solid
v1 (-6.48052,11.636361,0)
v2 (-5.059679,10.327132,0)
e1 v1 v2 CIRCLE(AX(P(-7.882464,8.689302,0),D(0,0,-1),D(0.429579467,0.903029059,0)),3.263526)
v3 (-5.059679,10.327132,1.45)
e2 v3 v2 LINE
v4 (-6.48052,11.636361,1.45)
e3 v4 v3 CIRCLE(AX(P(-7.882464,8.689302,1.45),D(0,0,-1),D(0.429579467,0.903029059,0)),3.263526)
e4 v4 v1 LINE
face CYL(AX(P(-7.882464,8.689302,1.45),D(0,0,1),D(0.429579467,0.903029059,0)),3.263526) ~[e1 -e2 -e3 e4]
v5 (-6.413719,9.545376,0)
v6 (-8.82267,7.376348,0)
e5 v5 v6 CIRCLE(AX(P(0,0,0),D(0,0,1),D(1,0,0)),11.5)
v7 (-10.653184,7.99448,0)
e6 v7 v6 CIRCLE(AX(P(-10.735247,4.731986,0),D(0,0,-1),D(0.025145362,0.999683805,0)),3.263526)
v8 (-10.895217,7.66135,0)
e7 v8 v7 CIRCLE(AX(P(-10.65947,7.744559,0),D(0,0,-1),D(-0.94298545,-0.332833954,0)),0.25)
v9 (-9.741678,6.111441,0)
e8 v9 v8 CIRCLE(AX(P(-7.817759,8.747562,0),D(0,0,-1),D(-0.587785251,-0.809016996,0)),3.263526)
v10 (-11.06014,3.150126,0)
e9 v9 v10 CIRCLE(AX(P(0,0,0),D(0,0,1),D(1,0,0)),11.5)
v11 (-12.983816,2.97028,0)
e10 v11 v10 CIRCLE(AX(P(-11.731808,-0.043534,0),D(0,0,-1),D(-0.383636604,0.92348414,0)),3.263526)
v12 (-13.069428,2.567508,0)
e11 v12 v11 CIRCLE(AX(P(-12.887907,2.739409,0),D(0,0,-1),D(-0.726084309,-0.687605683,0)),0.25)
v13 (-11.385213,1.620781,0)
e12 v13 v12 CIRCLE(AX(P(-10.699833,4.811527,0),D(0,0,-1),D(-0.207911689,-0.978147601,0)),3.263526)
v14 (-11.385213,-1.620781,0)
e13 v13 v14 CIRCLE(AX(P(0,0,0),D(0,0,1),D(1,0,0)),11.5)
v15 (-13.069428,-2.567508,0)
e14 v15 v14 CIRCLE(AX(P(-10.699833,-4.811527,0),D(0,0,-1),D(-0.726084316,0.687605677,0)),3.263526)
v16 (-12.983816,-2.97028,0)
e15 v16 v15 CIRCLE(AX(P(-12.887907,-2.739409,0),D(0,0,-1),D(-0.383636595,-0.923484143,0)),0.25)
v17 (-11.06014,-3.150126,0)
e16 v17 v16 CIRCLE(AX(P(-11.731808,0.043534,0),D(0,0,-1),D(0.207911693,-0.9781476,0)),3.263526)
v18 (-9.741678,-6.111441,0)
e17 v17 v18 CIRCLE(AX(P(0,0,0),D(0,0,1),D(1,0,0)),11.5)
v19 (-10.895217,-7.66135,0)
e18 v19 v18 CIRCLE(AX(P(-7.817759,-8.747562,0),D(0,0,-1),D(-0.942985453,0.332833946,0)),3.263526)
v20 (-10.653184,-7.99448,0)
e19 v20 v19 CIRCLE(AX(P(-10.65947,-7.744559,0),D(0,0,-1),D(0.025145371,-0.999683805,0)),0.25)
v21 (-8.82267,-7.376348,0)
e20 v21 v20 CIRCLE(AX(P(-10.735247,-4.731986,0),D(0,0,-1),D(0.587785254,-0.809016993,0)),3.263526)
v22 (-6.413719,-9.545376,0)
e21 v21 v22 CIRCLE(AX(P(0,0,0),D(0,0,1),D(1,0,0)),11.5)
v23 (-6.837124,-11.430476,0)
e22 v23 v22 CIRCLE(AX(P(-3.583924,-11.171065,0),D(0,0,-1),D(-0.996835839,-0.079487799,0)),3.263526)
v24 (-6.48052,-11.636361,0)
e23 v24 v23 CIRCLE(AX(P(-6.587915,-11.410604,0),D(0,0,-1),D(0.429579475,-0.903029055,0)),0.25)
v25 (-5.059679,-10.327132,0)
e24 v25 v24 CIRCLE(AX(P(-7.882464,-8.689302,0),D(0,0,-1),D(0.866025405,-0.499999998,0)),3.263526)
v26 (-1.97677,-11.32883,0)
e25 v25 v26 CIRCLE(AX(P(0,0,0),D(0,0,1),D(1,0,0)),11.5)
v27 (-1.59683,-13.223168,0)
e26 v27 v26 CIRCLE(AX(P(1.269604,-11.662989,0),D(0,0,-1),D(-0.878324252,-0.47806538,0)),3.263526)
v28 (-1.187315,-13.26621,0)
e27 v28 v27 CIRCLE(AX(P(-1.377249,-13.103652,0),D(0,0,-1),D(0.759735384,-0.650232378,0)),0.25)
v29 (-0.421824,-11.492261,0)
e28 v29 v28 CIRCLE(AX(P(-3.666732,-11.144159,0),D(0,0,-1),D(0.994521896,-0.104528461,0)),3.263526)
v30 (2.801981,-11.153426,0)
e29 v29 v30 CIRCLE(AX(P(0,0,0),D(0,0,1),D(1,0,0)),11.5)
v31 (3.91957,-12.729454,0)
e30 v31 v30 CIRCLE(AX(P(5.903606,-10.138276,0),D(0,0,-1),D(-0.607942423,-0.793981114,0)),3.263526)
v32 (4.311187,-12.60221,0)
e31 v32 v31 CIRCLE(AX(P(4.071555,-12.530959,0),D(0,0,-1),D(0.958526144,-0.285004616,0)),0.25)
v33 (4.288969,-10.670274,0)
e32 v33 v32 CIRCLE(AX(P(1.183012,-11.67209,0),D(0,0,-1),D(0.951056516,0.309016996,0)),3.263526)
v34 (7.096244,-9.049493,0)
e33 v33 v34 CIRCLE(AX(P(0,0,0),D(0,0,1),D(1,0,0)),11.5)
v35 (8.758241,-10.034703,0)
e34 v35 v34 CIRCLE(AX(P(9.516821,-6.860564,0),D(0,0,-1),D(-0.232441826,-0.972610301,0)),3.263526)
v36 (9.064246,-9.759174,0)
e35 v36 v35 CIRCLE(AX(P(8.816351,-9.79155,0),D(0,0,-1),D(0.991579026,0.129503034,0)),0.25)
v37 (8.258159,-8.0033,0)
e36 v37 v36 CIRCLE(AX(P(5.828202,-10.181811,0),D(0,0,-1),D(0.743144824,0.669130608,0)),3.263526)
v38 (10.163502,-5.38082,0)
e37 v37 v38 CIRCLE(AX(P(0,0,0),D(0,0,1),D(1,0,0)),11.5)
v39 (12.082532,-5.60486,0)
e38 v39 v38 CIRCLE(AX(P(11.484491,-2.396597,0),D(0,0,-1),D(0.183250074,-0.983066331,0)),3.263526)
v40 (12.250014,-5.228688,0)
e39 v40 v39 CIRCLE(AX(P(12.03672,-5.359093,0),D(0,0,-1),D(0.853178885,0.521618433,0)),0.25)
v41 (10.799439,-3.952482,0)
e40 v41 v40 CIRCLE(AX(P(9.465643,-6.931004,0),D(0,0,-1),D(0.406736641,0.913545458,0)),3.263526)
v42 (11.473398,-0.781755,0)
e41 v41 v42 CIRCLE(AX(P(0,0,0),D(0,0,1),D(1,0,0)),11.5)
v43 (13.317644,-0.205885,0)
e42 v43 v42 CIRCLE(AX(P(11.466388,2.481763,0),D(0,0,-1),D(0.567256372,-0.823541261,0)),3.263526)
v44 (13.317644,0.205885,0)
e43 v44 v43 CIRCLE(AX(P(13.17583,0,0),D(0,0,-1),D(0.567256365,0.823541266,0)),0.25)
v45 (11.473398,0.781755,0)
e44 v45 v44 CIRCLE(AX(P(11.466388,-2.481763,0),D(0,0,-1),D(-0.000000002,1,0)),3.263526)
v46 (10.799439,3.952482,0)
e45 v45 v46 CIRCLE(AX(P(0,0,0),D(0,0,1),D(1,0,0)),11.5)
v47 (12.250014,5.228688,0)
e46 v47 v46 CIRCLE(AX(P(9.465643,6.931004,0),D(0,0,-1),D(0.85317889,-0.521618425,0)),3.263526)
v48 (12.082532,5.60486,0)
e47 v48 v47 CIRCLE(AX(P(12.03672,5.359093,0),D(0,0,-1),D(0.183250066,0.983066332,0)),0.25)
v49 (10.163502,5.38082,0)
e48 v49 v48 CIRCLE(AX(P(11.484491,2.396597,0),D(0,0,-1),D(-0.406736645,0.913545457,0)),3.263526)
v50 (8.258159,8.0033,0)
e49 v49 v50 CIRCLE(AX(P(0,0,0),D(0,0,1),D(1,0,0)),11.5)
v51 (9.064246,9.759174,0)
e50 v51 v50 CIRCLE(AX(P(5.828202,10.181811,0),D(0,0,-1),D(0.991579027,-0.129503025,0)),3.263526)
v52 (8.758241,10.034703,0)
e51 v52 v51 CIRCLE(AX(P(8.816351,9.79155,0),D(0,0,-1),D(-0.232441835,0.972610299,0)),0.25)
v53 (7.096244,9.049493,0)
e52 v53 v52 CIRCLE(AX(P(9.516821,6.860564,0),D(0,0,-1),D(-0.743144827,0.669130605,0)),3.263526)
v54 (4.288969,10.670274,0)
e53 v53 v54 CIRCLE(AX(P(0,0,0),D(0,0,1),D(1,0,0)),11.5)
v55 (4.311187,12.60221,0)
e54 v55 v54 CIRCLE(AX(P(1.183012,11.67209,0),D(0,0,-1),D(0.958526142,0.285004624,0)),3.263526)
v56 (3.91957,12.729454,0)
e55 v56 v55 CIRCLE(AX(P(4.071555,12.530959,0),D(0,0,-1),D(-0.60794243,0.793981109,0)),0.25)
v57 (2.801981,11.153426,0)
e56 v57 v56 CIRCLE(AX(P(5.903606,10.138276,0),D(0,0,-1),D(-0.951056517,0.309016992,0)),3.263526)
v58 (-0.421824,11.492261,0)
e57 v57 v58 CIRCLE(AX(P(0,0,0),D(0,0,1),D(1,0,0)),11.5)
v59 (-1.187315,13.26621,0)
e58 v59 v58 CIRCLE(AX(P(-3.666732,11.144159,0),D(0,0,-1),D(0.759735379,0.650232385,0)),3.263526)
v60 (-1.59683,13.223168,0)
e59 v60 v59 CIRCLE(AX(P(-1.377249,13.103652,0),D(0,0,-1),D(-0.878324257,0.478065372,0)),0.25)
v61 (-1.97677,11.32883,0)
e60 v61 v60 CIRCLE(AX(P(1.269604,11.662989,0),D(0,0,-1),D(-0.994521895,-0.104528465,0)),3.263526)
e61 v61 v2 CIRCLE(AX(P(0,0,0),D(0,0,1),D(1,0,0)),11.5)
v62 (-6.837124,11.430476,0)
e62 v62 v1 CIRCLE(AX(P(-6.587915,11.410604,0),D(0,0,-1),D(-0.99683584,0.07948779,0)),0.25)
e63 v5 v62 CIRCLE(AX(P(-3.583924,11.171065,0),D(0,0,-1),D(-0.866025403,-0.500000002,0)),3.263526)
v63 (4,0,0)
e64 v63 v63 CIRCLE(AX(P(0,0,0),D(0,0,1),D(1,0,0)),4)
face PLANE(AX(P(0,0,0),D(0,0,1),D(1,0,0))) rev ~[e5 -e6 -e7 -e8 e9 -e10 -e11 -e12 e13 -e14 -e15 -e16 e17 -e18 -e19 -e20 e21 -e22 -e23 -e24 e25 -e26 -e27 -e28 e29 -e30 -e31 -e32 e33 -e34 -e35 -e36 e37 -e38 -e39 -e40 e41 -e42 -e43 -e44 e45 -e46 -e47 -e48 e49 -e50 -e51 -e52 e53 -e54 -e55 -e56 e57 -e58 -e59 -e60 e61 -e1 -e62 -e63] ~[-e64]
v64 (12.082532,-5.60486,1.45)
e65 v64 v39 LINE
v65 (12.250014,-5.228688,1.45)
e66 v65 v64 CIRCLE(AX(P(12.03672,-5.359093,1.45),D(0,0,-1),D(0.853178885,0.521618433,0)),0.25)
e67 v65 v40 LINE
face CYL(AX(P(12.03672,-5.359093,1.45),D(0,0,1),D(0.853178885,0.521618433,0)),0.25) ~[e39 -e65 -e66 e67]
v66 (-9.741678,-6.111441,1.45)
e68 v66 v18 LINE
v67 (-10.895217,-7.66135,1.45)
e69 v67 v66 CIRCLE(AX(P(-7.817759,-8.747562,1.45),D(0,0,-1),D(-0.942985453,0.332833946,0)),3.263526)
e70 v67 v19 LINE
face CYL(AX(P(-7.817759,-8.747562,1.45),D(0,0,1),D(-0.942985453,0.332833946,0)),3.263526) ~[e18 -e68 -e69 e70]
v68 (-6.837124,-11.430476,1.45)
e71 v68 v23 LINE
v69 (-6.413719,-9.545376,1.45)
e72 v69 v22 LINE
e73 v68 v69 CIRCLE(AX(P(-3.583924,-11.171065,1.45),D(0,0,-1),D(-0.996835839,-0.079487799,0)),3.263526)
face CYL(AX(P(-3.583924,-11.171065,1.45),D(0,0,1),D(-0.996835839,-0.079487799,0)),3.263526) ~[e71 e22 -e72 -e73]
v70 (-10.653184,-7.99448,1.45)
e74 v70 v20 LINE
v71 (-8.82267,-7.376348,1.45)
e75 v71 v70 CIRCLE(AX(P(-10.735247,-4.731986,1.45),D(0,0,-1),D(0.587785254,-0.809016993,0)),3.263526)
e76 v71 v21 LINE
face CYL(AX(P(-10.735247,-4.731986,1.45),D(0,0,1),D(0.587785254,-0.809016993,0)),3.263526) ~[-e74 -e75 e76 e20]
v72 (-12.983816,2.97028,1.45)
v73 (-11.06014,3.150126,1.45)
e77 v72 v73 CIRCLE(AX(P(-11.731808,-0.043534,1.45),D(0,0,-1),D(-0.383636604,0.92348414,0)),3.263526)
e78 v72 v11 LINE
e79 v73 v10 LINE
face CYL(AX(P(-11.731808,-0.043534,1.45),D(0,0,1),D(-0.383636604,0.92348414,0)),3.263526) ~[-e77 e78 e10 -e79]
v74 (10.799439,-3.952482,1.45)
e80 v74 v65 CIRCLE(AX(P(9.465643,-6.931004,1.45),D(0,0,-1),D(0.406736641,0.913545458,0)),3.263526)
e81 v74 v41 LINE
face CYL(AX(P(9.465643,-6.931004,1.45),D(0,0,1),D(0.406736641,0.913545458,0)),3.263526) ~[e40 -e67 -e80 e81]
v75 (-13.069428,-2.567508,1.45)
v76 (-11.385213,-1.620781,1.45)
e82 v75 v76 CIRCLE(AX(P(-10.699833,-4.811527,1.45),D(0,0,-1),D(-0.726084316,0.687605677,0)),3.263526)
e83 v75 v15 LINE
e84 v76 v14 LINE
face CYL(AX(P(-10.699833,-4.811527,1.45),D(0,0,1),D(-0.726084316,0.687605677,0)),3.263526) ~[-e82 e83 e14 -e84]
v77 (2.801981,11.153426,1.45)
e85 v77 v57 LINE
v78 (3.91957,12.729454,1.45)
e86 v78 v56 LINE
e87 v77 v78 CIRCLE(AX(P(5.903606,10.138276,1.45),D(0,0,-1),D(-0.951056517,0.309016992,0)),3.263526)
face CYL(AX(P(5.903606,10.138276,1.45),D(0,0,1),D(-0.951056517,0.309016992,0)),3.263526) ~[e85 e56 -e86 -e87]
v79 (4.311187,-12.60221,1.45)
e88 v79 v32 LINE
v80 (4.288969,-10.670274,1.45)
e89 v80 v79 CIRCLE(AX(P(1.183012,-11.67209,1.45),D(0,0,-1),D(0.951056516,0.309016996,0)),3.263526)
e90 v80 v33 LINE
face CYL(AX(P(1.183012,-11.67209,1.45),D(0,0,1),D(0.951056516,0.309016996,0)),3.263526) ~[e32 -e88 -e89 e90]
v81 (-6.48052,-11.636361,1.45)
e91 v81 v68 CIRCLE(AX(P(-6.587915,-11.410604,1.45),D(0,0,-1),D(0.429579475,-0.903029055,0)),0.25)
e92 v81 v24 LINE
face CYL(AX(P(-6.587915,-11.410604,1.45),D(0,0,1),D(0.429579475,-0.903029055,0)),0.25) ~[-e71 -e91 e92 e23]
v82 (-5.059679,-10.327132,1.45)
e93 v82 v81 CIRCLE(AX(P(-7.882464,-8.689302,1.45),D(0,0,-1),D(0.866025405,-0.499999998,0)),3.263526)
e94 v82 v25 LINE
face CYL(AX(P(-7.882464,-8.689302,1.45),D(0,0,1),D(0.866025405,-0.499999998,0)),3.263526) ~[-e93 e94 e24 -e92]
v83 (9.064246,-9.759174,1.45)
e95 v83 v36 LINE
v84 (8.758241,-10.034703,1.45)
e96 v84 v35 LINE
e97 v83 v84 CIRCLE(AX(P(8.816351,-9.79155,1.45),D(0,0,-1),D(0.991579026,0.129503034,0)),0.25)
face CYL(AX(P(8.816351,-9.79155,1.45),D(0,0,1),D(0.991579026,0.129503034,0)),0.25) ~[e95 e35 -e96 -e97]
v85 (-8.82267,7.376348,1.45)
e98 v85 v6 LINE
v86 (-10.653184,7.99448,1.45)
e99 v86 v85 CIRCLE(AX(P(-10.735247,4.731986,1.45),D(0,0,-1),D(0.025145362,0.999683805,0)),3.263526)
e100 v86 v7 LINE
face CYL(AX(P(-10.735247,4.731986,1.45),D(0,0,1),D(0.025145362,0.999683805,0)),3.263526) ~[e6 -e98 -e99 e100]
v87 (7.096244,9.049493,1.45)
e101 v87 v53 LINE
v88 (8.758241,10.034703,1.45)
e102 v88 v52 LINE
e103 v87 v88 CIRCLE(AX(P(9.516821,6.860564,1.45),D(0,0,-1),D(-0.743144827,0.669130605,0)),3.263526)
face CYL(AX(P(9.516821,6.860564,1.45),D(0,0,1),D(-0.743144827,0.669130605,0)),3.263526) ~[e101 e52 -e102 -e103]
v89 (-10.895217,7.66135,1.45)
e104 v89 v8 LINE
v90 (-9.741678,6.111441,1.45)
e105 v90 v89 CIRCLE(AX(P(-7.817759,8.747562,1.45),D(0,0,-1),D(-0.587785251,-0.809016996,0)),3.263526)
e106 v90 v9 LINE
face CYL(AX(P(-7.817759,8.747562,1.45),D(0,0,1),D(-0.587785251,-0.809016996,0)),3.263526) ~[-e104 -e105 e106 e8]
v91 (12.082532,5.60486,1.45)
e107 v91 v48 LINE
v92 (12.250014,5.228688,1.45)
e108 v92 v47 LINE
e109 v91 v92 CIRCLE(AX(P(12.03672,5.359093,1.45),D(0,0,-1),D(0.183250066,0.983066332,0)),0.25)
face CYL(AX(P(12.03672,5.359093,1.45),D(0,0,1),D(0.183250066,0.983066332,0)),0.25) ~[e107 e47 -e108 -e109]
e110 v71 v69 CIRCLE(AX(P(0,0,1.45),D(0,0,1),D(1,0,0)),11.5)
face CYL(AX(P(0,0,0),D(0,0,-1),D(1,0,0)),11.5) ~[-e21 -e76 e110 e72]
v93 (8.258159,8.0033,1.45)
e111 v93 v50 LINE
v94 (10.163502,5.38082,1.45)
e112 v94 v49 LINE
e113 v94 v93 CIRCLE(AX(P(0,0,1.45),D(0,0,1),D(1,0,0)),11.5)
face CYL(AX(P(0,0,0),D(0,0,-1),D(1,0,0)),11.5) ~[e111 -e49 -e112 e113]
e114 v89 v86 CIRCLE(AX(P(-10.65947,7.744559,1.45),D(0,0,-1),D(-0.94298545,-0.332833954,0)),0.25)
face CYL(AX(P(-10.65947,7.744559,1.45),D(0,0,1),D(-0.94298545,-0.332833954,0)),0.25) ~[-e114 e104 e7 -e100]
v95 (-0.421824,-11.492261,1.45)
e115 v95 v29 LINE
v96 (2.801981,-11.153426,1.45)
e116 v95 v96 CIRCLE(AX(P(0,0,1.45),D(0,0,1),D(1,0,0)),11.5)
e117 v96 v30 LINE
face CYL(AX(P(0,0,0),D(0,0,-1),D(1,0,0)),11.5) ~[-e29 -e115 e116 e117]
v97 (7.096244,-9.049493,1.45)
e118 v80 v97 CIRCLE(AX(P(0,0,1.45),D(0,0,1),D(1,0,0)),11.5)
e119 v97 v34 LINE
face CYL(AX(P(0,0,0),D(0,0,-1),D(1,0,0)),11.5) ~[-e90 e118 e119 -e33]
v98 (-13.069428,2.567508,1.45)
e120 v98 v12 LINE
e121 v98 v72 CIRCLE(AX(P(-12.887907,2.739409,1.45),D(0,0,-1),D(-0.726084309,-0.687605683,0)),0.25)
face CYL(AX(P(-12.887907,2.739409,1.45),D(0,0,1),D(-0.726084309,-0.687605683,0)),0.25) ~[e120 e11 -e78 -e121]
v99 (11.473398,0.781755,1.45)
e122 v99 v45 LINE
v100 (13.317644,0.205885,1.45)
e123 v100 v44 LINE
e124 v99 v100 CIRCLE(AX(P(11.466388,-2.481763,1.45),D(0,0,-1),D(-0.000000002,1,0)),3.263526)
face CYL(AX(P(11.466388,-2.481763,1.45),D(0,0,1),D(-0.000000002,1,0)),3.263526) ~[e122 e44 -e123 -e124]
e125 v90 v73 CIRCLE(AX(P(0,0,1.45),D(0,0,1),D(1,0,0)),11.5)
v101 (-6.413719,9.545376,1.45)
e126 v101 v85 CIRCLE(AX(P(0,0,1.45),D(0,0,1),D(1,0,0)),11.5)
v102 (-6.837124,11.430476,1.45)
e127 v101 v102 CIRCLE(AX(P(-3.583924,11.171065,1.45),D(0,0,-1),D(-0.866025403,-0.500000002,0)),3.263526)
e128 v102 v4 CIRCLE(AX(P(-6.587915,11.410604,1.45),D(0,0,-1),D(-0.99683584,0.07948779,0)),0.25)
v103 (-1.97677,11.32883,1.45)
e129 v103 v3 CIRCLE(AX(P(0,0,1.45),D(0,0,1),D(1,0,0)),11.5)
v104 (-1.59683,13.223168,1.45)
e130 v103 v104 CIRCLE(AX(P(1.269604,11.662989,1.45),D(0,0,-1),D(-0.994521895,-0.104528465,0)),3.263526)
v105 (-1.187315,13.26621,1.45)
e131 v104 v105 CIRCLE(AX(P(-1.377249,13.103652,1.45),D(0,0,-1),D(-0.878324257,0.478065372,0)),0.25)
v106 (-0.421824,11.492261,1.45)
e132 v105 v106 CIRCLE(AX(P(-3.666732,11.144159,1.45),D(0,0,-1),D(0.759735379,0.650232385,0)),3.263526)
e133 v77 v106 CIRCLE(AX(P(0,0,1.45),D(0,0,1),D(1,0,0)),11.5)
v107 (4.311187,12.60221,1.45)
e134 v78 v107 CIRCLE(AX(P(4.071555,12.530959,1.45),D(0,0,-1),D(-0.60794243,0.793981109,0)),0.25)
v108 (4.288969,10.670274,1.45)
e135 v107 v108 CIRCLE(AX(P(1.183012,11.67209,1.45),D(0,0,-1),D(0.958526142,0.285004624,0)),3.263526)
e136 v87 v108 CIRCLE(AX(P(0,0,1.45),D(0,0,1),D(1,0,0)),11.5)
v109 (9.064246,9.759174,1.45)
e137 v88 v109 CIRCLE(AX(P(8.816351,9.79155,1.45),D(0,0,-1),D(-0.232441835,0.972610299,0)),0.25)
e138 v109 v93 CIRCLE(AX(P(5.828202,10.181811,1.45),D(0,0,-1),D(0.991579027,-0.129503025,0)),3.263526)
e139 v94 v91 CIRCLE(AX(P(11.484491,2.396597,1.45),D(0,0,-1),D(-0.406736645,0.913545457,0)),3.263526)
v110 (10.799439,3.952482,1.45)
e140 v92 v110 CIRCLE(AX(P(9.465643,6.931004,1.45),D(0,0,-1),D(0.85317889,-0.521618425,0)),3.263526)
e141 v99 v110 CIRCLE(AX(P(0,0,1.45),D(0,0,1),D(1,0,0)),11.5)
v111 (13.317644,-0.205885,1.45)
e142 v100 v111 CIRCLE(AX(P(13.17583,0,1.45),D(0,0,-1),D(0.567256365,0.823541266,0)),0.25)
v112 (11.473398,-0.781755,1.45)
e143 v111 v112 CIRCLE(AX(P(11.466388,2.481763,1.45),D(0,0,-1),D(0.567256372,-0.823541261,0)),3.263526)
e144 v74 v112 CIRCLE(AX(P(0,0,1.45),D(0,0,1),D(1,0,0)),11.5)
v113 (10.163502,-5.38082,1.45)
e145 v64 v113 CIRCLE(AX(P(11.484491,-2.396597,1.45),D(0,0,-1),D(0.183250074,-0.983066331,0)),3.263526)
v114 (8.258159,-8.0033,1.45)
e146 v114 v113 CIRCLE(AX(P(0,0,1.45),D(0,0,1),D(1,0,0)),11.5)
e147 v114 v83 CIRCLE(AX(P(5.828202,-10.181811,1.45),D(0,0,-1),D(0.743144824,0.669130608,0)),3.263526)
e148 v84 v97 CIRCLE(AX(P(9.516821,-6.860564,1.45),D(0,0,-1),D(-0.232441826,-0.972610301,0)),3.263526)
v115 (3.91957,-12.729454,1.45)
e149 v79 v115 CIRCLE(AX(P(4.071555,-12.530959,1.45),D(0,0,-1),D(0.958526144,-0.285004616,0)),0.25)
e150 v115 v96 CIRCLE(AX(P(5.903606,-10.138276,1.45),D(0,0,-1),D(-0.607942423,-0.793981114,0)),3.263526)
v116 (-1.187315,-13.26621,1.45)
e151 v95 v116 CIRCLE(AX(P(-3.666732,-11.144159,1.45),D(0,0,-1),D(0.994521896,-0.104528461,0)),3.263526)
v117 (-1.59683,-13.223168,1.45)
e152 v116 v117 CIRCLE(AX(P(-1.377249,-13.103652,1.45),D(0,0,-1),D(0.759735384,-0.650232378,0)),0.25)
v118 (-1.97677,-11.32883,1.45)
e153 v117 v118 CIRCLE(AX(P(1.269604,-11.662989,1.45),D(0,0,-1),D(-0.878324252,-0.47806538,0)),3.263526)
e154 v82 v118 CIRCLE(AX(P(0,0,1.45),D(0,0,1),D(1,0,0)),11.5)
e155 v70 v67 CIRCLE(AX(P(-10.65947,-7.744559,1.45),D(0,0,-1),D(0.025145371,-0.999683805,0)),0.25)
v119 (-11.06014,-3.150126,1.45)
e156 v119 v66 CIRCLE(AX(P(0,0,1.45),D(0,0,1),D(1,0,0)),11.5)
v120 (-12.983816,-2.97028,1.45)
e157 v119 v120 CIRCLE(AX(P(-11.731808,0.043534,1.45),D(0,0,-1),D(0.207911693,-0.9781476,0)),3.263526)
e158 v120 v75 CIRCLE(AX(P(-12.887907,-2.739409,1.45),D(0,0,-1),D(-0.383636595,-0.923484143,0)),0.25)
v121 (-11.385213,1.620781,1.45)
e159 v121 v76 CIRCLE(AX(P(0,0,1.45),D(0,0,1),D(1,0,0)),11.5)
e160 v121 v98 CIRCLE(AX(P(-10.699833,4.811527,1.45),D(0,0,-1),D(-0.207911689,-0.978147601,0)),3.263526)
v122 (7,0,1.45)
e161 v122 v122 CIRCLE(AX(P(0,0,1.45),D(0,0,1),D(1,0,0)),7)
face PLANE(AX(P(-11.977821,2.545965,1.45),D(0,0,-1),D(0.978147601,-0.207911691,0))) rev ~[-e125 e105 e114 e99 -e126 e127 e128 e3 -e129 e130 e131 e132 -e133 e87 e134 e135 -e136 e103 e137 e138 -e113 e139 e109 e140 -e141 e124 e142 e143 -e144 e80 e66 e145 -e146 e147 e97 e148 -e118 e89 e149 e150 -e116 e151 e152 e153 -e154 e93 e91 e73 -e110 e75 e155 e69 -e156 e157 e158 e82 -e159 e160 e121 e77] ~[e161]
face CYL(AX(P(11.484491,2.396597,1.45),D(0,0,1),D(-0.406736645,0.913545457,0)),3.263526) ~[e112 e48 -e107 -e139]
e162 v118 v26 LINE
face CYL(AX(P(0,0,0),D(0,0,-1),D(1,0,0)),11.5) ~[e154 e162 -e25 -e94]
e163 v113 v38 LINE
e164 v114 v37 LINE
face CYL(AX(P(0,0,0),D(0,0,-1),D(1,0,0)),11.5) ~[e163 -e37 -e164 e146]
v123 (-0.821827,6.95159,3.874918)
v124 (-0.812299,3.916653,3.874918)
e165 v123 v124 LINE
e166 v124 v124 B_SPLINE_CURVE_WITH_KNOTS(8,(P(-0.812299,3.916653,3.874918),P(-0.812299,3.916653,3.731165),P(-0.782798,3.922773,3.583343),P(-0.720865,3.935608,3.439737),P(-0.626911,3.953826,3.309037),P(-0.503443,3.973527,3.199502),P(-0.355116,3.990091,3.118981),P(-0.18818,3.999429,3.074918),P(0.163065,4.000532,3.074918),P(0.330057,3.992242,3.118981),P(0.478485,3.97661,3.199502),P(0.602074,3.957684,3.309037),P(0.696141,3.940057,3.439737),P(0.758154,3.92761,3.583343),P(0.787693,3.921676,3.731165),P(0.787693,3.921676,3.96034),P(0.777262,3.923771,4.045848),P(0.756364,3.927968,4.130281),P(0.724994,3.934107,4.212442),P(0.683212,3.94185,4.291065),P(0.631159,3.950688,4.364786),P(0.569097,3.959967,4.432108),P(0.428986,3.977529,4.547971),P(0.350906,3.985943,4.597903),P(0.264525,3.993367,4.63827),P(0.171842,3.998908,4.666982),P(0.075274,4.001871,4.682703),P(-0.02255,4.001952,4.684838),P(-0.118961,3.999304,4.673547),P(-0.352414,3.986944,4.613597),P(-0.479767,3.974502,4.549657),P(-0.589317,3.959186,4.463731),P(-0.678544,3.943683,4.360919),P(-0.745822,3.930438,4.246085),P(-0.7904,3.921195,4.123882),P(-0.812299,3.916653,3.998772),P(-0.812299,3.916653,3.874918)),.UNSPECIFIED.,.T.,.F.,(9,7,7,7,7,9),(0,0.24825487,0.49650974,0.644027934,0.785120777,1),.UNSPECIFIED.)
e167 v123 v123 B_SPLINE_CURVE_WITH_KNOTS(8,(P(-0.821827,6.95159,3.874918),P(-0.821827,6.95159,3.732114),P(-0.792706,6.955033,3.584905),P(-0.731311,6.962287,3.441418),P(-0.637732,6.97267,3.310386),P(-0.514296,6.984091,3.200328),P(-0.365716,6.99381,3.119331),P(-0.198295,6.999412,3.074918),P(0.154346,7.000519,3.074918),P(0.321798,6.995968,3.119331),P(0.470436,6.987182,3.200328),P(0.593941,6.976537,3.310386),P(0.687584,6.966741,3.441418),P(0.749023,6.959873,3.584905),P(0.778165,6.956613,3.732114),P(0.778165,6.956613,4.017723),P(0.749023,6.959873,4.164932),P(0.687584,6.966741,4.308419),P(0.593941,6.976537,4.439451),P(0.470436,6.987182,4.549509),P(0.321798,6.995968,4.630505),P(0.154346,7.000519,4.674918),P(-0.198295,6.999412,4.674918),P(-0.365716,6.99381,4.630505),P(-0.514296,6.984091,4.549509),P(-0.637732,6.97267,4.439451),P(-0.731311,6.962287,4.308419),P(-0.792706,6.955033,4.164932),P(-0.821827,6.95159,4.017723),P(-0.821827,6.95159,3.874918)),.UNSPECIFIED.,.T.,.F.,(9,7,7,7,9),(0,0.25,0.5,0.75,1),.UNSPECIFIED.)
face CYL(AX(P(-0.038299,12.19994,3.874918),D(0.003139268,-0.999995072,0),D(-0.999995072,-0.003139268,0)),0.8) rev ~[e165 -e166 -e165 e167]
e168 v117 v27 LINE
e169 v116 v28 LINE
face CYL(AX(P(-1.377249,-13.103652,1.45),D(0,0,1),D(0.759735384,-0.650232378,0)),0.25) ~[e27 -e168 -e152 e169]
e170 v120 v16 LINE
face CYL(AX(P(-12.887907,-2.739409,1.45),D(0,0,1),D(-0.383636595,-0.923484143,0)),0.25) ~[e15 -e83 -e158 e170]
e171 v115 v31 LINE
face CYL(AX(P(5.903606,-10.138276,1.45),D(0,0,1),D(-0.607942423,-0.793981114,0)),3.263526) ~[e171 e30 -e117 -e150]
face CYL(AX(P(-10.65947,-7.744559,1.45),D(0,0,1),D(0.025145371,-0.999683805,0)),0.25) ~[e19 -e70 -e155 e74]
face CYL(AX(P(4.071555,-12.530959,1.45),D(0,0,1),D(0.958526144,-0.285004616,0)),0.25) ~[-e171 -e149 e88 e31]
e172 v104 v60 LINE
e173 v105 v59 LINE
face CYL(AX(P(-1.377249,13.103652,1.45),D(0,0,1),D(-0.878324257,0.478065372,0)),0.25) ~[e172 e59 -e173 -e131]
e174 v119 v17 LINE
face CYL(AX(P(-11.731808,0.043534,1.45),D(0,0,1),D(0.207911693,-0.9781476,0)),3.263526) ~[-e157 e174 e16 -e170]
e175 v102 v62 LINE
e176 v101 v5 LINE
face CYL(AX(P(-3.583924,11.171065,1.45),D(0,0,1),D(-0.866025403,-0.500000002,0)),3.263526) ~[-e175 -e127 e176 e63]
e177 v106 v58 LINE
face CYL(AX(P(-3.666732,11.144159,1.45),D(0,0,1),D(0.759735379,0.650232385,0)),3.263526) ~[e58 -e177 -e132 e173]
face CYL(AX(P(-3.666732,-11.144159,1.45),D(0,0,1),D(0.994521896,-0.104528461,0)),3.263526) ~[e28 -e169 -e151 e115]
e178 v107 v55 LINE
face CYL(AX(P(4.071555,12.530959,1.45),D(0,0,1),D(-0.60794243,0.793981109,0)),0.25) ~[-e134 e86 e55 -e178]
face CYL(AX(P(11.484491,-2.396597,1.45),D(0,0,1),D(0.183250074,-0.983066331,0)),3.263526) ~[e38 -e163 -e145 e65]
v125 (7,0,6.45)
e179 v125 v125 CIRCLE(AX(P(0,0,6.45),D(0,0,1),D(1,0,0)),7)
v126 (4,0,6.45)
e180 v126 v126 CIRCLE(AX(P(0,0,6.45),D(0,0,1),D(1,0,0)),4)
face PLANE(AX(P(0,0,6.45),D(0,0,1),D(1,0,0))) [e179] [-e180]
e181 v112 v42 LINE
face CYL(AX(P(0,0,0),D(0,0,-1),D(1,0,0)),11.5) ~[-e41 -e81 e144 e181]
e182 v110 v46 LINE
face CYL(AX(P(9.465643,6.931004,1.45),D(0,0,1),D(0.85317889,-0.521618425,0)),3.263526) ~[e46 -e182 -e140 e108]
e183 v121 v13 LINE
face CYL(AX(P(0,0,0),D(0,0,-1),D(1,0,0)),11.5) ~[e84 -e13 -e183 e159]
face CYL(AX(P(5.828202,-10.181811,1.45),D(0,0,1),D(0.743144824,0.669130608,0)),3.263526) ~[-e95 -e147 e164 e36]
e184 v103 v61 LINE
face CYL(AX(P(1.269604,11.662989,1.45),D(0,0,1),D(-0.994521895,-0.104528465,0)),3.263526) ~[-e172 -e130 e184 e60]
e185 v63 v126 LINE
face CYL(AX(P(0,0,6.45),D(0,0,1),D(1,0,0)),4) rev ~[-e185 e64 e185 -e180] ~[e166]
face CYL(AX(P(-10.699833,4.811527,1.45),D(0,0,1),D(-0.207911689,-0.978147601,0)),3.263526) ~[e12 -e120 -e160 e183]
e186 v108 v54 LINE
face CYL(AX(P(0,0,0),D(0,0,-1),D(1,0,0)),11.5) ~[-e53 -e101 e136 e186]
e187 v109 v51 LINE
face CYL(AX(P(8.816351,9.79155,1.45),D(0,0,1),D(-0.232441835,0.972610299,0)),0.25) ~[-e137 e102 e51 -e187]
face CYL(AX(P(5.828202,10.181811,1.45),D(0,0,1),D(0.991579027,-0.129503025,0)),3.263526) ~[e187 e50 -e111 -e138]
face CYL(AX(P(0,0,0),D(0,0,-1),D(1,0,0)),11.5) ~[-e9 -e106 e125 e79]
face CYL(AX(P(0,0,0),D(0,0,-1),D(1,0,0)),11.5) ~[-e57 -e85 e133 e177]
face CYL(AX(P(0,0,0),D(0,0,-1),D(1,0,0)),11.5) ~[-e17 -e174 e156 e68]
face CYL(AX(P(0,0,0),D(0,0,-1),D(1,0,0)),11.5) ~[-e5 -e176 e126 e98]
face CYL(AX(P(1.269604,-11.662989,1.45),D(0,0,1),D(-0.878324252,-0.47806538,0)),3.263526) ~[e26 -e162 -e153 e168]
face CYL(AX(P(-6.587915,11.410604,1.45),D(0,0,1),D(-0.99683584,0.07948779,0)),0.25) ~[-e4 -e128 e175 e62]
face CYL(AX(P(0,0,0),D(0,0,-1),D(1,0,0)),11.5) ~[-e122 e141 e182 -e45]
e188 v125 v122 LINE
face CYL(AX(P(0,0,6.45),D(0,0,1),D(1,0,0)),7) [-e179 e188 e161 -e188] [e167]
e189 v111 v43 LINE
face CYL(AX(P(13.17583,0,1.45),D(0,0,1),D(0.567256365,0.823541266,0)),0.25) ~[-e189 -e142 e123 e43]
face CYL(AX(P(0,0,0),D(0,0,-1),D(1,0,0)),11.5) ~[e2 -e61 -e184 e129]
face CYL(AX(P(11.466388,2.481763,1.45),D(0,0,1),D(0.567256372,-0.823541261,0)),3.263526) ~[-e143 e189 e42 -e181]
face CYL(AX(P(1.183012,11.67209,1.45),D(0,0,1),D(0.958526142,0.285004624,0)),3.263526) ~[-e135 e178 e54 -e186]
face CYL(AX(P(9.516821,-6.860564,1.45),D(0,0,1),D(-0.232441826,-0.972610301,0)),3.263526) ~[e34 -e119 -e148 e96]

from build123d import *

# Parameters (mm, degrees)
SKETCH1_R                 = 11.5
BOSS_EXTRUDE1_DEPTH       = 1.45
BOSS_EXTRUDE2_DEPTH       = 1.45
CIRPATTERN2_COUNT         = 15
SKETCH4_R                 = 4
CUT_EXTRUDE1_DEPTH        = 1.45
BOSS_EXTRUDE3_START       = 5
SKETCH5_R                 = 7
SKETCH5_R_2               = 4
BOSS_EXTRUDE3_DEPTH       = 5
M2X0_4_TAPPED_HOLE3_D     = 1.6
M2X0_4_TAPPED_HOLE3_DEPTH = 5.2
M2X0_4_TAPPED_HOLE3_TIP   = 0.480688495


with BuildPart() as part:
    # Sketch1 → Boss-Extrude1 (new body)
    with BuildSketch(Plane.XY):
        Circle(SKETCH1_R)
    extrude(amount=BOSS_EXTRUDE1_DEPTH)

    # Sketch2 → Boss-Extrude2 (add)
    with BuildSketch(Plane.XY.offset(1.45)):
        with BuildLine():
            Line((11.466388324, -0.781762992), (11.466388324, 0.781762992))
            ThreePointArc((11.466388324, 0.781762992), (12.435767446, 0.634469665), (13.317644229, 0.205885315))
            ThreePointArc((13.317644229, 0.205885315), (13.425830137, 0), (13.317644229, -0.205885315))
            ThreePointArc((13.317644229, -0.205885315), (12.435767446, -0.634469665), (11.466388324, -0.781762992))
        make_face()
    boss_extrude2 = extrude(amount=-BOSS_EXTRUDE2_DEPTH)

    # CirPattern2: Boss-Extrude2 ×15 about axis
    cirpattern2_axis = Axis((0, 0, 0), (0, 0, 1))
    for i in range(1, CIRPATTERN2_COUNT):
        add(boss_extrude2.rotate(cirpattern2_axis, i * 360 / CIRPATTERN2_COUNT))

    # Sketch4 → Cut-Extrude1 (cut)
    with BuildSketch(Plane.XY.offset(1.45)):
        Circle(SKETCH4_R)
    extrude(amount=-CUT_EXTRUDE1_DEPTH, mode=Mode.SUBTRACT)

    # Sketch5 → Boss-Extrude3 (add)
    with BuildSketch(Plane.XY.offset(1.45).offset(BOSS_EXTRUDE3_START)):
        Circle(SKETCH5_R)
        Circle(SKETCH5_R_2, mode=Mode.SUBTRACT)
    extrude(amount=-BOSS_EXTRUDE3_DEPTH)

    # M2x0.4 Tapped Hole3
    with Locations(Plane(origin=(-0.021974878, 6.999965507, 3.87491846), x_dir=(0.999995072485, 0.003139268242, 0), z_dir=(-0.003139268242, 0.999995072485, 0))):
        with Locations((0, 0)):
            Hole(M2X0_4_TAPPED_HOLE3_D / 2, depth=M2X0_4_TAPPED_HOLE3_DEPTH)
            with Locations((0, 0, -(M2X0_4_TAPPED_HOLE3_DEPTH + M2X0_4_TAPPED_HOLE3_TIP / 2))):  # 118° drill point
                Cone(0, M2X0_4_TAPPED_HOLE3_D / 2, M2X0_4_TAPPED_HOLE3_TIP, mode=Mode.SUBTRACT)


solid = part.part
